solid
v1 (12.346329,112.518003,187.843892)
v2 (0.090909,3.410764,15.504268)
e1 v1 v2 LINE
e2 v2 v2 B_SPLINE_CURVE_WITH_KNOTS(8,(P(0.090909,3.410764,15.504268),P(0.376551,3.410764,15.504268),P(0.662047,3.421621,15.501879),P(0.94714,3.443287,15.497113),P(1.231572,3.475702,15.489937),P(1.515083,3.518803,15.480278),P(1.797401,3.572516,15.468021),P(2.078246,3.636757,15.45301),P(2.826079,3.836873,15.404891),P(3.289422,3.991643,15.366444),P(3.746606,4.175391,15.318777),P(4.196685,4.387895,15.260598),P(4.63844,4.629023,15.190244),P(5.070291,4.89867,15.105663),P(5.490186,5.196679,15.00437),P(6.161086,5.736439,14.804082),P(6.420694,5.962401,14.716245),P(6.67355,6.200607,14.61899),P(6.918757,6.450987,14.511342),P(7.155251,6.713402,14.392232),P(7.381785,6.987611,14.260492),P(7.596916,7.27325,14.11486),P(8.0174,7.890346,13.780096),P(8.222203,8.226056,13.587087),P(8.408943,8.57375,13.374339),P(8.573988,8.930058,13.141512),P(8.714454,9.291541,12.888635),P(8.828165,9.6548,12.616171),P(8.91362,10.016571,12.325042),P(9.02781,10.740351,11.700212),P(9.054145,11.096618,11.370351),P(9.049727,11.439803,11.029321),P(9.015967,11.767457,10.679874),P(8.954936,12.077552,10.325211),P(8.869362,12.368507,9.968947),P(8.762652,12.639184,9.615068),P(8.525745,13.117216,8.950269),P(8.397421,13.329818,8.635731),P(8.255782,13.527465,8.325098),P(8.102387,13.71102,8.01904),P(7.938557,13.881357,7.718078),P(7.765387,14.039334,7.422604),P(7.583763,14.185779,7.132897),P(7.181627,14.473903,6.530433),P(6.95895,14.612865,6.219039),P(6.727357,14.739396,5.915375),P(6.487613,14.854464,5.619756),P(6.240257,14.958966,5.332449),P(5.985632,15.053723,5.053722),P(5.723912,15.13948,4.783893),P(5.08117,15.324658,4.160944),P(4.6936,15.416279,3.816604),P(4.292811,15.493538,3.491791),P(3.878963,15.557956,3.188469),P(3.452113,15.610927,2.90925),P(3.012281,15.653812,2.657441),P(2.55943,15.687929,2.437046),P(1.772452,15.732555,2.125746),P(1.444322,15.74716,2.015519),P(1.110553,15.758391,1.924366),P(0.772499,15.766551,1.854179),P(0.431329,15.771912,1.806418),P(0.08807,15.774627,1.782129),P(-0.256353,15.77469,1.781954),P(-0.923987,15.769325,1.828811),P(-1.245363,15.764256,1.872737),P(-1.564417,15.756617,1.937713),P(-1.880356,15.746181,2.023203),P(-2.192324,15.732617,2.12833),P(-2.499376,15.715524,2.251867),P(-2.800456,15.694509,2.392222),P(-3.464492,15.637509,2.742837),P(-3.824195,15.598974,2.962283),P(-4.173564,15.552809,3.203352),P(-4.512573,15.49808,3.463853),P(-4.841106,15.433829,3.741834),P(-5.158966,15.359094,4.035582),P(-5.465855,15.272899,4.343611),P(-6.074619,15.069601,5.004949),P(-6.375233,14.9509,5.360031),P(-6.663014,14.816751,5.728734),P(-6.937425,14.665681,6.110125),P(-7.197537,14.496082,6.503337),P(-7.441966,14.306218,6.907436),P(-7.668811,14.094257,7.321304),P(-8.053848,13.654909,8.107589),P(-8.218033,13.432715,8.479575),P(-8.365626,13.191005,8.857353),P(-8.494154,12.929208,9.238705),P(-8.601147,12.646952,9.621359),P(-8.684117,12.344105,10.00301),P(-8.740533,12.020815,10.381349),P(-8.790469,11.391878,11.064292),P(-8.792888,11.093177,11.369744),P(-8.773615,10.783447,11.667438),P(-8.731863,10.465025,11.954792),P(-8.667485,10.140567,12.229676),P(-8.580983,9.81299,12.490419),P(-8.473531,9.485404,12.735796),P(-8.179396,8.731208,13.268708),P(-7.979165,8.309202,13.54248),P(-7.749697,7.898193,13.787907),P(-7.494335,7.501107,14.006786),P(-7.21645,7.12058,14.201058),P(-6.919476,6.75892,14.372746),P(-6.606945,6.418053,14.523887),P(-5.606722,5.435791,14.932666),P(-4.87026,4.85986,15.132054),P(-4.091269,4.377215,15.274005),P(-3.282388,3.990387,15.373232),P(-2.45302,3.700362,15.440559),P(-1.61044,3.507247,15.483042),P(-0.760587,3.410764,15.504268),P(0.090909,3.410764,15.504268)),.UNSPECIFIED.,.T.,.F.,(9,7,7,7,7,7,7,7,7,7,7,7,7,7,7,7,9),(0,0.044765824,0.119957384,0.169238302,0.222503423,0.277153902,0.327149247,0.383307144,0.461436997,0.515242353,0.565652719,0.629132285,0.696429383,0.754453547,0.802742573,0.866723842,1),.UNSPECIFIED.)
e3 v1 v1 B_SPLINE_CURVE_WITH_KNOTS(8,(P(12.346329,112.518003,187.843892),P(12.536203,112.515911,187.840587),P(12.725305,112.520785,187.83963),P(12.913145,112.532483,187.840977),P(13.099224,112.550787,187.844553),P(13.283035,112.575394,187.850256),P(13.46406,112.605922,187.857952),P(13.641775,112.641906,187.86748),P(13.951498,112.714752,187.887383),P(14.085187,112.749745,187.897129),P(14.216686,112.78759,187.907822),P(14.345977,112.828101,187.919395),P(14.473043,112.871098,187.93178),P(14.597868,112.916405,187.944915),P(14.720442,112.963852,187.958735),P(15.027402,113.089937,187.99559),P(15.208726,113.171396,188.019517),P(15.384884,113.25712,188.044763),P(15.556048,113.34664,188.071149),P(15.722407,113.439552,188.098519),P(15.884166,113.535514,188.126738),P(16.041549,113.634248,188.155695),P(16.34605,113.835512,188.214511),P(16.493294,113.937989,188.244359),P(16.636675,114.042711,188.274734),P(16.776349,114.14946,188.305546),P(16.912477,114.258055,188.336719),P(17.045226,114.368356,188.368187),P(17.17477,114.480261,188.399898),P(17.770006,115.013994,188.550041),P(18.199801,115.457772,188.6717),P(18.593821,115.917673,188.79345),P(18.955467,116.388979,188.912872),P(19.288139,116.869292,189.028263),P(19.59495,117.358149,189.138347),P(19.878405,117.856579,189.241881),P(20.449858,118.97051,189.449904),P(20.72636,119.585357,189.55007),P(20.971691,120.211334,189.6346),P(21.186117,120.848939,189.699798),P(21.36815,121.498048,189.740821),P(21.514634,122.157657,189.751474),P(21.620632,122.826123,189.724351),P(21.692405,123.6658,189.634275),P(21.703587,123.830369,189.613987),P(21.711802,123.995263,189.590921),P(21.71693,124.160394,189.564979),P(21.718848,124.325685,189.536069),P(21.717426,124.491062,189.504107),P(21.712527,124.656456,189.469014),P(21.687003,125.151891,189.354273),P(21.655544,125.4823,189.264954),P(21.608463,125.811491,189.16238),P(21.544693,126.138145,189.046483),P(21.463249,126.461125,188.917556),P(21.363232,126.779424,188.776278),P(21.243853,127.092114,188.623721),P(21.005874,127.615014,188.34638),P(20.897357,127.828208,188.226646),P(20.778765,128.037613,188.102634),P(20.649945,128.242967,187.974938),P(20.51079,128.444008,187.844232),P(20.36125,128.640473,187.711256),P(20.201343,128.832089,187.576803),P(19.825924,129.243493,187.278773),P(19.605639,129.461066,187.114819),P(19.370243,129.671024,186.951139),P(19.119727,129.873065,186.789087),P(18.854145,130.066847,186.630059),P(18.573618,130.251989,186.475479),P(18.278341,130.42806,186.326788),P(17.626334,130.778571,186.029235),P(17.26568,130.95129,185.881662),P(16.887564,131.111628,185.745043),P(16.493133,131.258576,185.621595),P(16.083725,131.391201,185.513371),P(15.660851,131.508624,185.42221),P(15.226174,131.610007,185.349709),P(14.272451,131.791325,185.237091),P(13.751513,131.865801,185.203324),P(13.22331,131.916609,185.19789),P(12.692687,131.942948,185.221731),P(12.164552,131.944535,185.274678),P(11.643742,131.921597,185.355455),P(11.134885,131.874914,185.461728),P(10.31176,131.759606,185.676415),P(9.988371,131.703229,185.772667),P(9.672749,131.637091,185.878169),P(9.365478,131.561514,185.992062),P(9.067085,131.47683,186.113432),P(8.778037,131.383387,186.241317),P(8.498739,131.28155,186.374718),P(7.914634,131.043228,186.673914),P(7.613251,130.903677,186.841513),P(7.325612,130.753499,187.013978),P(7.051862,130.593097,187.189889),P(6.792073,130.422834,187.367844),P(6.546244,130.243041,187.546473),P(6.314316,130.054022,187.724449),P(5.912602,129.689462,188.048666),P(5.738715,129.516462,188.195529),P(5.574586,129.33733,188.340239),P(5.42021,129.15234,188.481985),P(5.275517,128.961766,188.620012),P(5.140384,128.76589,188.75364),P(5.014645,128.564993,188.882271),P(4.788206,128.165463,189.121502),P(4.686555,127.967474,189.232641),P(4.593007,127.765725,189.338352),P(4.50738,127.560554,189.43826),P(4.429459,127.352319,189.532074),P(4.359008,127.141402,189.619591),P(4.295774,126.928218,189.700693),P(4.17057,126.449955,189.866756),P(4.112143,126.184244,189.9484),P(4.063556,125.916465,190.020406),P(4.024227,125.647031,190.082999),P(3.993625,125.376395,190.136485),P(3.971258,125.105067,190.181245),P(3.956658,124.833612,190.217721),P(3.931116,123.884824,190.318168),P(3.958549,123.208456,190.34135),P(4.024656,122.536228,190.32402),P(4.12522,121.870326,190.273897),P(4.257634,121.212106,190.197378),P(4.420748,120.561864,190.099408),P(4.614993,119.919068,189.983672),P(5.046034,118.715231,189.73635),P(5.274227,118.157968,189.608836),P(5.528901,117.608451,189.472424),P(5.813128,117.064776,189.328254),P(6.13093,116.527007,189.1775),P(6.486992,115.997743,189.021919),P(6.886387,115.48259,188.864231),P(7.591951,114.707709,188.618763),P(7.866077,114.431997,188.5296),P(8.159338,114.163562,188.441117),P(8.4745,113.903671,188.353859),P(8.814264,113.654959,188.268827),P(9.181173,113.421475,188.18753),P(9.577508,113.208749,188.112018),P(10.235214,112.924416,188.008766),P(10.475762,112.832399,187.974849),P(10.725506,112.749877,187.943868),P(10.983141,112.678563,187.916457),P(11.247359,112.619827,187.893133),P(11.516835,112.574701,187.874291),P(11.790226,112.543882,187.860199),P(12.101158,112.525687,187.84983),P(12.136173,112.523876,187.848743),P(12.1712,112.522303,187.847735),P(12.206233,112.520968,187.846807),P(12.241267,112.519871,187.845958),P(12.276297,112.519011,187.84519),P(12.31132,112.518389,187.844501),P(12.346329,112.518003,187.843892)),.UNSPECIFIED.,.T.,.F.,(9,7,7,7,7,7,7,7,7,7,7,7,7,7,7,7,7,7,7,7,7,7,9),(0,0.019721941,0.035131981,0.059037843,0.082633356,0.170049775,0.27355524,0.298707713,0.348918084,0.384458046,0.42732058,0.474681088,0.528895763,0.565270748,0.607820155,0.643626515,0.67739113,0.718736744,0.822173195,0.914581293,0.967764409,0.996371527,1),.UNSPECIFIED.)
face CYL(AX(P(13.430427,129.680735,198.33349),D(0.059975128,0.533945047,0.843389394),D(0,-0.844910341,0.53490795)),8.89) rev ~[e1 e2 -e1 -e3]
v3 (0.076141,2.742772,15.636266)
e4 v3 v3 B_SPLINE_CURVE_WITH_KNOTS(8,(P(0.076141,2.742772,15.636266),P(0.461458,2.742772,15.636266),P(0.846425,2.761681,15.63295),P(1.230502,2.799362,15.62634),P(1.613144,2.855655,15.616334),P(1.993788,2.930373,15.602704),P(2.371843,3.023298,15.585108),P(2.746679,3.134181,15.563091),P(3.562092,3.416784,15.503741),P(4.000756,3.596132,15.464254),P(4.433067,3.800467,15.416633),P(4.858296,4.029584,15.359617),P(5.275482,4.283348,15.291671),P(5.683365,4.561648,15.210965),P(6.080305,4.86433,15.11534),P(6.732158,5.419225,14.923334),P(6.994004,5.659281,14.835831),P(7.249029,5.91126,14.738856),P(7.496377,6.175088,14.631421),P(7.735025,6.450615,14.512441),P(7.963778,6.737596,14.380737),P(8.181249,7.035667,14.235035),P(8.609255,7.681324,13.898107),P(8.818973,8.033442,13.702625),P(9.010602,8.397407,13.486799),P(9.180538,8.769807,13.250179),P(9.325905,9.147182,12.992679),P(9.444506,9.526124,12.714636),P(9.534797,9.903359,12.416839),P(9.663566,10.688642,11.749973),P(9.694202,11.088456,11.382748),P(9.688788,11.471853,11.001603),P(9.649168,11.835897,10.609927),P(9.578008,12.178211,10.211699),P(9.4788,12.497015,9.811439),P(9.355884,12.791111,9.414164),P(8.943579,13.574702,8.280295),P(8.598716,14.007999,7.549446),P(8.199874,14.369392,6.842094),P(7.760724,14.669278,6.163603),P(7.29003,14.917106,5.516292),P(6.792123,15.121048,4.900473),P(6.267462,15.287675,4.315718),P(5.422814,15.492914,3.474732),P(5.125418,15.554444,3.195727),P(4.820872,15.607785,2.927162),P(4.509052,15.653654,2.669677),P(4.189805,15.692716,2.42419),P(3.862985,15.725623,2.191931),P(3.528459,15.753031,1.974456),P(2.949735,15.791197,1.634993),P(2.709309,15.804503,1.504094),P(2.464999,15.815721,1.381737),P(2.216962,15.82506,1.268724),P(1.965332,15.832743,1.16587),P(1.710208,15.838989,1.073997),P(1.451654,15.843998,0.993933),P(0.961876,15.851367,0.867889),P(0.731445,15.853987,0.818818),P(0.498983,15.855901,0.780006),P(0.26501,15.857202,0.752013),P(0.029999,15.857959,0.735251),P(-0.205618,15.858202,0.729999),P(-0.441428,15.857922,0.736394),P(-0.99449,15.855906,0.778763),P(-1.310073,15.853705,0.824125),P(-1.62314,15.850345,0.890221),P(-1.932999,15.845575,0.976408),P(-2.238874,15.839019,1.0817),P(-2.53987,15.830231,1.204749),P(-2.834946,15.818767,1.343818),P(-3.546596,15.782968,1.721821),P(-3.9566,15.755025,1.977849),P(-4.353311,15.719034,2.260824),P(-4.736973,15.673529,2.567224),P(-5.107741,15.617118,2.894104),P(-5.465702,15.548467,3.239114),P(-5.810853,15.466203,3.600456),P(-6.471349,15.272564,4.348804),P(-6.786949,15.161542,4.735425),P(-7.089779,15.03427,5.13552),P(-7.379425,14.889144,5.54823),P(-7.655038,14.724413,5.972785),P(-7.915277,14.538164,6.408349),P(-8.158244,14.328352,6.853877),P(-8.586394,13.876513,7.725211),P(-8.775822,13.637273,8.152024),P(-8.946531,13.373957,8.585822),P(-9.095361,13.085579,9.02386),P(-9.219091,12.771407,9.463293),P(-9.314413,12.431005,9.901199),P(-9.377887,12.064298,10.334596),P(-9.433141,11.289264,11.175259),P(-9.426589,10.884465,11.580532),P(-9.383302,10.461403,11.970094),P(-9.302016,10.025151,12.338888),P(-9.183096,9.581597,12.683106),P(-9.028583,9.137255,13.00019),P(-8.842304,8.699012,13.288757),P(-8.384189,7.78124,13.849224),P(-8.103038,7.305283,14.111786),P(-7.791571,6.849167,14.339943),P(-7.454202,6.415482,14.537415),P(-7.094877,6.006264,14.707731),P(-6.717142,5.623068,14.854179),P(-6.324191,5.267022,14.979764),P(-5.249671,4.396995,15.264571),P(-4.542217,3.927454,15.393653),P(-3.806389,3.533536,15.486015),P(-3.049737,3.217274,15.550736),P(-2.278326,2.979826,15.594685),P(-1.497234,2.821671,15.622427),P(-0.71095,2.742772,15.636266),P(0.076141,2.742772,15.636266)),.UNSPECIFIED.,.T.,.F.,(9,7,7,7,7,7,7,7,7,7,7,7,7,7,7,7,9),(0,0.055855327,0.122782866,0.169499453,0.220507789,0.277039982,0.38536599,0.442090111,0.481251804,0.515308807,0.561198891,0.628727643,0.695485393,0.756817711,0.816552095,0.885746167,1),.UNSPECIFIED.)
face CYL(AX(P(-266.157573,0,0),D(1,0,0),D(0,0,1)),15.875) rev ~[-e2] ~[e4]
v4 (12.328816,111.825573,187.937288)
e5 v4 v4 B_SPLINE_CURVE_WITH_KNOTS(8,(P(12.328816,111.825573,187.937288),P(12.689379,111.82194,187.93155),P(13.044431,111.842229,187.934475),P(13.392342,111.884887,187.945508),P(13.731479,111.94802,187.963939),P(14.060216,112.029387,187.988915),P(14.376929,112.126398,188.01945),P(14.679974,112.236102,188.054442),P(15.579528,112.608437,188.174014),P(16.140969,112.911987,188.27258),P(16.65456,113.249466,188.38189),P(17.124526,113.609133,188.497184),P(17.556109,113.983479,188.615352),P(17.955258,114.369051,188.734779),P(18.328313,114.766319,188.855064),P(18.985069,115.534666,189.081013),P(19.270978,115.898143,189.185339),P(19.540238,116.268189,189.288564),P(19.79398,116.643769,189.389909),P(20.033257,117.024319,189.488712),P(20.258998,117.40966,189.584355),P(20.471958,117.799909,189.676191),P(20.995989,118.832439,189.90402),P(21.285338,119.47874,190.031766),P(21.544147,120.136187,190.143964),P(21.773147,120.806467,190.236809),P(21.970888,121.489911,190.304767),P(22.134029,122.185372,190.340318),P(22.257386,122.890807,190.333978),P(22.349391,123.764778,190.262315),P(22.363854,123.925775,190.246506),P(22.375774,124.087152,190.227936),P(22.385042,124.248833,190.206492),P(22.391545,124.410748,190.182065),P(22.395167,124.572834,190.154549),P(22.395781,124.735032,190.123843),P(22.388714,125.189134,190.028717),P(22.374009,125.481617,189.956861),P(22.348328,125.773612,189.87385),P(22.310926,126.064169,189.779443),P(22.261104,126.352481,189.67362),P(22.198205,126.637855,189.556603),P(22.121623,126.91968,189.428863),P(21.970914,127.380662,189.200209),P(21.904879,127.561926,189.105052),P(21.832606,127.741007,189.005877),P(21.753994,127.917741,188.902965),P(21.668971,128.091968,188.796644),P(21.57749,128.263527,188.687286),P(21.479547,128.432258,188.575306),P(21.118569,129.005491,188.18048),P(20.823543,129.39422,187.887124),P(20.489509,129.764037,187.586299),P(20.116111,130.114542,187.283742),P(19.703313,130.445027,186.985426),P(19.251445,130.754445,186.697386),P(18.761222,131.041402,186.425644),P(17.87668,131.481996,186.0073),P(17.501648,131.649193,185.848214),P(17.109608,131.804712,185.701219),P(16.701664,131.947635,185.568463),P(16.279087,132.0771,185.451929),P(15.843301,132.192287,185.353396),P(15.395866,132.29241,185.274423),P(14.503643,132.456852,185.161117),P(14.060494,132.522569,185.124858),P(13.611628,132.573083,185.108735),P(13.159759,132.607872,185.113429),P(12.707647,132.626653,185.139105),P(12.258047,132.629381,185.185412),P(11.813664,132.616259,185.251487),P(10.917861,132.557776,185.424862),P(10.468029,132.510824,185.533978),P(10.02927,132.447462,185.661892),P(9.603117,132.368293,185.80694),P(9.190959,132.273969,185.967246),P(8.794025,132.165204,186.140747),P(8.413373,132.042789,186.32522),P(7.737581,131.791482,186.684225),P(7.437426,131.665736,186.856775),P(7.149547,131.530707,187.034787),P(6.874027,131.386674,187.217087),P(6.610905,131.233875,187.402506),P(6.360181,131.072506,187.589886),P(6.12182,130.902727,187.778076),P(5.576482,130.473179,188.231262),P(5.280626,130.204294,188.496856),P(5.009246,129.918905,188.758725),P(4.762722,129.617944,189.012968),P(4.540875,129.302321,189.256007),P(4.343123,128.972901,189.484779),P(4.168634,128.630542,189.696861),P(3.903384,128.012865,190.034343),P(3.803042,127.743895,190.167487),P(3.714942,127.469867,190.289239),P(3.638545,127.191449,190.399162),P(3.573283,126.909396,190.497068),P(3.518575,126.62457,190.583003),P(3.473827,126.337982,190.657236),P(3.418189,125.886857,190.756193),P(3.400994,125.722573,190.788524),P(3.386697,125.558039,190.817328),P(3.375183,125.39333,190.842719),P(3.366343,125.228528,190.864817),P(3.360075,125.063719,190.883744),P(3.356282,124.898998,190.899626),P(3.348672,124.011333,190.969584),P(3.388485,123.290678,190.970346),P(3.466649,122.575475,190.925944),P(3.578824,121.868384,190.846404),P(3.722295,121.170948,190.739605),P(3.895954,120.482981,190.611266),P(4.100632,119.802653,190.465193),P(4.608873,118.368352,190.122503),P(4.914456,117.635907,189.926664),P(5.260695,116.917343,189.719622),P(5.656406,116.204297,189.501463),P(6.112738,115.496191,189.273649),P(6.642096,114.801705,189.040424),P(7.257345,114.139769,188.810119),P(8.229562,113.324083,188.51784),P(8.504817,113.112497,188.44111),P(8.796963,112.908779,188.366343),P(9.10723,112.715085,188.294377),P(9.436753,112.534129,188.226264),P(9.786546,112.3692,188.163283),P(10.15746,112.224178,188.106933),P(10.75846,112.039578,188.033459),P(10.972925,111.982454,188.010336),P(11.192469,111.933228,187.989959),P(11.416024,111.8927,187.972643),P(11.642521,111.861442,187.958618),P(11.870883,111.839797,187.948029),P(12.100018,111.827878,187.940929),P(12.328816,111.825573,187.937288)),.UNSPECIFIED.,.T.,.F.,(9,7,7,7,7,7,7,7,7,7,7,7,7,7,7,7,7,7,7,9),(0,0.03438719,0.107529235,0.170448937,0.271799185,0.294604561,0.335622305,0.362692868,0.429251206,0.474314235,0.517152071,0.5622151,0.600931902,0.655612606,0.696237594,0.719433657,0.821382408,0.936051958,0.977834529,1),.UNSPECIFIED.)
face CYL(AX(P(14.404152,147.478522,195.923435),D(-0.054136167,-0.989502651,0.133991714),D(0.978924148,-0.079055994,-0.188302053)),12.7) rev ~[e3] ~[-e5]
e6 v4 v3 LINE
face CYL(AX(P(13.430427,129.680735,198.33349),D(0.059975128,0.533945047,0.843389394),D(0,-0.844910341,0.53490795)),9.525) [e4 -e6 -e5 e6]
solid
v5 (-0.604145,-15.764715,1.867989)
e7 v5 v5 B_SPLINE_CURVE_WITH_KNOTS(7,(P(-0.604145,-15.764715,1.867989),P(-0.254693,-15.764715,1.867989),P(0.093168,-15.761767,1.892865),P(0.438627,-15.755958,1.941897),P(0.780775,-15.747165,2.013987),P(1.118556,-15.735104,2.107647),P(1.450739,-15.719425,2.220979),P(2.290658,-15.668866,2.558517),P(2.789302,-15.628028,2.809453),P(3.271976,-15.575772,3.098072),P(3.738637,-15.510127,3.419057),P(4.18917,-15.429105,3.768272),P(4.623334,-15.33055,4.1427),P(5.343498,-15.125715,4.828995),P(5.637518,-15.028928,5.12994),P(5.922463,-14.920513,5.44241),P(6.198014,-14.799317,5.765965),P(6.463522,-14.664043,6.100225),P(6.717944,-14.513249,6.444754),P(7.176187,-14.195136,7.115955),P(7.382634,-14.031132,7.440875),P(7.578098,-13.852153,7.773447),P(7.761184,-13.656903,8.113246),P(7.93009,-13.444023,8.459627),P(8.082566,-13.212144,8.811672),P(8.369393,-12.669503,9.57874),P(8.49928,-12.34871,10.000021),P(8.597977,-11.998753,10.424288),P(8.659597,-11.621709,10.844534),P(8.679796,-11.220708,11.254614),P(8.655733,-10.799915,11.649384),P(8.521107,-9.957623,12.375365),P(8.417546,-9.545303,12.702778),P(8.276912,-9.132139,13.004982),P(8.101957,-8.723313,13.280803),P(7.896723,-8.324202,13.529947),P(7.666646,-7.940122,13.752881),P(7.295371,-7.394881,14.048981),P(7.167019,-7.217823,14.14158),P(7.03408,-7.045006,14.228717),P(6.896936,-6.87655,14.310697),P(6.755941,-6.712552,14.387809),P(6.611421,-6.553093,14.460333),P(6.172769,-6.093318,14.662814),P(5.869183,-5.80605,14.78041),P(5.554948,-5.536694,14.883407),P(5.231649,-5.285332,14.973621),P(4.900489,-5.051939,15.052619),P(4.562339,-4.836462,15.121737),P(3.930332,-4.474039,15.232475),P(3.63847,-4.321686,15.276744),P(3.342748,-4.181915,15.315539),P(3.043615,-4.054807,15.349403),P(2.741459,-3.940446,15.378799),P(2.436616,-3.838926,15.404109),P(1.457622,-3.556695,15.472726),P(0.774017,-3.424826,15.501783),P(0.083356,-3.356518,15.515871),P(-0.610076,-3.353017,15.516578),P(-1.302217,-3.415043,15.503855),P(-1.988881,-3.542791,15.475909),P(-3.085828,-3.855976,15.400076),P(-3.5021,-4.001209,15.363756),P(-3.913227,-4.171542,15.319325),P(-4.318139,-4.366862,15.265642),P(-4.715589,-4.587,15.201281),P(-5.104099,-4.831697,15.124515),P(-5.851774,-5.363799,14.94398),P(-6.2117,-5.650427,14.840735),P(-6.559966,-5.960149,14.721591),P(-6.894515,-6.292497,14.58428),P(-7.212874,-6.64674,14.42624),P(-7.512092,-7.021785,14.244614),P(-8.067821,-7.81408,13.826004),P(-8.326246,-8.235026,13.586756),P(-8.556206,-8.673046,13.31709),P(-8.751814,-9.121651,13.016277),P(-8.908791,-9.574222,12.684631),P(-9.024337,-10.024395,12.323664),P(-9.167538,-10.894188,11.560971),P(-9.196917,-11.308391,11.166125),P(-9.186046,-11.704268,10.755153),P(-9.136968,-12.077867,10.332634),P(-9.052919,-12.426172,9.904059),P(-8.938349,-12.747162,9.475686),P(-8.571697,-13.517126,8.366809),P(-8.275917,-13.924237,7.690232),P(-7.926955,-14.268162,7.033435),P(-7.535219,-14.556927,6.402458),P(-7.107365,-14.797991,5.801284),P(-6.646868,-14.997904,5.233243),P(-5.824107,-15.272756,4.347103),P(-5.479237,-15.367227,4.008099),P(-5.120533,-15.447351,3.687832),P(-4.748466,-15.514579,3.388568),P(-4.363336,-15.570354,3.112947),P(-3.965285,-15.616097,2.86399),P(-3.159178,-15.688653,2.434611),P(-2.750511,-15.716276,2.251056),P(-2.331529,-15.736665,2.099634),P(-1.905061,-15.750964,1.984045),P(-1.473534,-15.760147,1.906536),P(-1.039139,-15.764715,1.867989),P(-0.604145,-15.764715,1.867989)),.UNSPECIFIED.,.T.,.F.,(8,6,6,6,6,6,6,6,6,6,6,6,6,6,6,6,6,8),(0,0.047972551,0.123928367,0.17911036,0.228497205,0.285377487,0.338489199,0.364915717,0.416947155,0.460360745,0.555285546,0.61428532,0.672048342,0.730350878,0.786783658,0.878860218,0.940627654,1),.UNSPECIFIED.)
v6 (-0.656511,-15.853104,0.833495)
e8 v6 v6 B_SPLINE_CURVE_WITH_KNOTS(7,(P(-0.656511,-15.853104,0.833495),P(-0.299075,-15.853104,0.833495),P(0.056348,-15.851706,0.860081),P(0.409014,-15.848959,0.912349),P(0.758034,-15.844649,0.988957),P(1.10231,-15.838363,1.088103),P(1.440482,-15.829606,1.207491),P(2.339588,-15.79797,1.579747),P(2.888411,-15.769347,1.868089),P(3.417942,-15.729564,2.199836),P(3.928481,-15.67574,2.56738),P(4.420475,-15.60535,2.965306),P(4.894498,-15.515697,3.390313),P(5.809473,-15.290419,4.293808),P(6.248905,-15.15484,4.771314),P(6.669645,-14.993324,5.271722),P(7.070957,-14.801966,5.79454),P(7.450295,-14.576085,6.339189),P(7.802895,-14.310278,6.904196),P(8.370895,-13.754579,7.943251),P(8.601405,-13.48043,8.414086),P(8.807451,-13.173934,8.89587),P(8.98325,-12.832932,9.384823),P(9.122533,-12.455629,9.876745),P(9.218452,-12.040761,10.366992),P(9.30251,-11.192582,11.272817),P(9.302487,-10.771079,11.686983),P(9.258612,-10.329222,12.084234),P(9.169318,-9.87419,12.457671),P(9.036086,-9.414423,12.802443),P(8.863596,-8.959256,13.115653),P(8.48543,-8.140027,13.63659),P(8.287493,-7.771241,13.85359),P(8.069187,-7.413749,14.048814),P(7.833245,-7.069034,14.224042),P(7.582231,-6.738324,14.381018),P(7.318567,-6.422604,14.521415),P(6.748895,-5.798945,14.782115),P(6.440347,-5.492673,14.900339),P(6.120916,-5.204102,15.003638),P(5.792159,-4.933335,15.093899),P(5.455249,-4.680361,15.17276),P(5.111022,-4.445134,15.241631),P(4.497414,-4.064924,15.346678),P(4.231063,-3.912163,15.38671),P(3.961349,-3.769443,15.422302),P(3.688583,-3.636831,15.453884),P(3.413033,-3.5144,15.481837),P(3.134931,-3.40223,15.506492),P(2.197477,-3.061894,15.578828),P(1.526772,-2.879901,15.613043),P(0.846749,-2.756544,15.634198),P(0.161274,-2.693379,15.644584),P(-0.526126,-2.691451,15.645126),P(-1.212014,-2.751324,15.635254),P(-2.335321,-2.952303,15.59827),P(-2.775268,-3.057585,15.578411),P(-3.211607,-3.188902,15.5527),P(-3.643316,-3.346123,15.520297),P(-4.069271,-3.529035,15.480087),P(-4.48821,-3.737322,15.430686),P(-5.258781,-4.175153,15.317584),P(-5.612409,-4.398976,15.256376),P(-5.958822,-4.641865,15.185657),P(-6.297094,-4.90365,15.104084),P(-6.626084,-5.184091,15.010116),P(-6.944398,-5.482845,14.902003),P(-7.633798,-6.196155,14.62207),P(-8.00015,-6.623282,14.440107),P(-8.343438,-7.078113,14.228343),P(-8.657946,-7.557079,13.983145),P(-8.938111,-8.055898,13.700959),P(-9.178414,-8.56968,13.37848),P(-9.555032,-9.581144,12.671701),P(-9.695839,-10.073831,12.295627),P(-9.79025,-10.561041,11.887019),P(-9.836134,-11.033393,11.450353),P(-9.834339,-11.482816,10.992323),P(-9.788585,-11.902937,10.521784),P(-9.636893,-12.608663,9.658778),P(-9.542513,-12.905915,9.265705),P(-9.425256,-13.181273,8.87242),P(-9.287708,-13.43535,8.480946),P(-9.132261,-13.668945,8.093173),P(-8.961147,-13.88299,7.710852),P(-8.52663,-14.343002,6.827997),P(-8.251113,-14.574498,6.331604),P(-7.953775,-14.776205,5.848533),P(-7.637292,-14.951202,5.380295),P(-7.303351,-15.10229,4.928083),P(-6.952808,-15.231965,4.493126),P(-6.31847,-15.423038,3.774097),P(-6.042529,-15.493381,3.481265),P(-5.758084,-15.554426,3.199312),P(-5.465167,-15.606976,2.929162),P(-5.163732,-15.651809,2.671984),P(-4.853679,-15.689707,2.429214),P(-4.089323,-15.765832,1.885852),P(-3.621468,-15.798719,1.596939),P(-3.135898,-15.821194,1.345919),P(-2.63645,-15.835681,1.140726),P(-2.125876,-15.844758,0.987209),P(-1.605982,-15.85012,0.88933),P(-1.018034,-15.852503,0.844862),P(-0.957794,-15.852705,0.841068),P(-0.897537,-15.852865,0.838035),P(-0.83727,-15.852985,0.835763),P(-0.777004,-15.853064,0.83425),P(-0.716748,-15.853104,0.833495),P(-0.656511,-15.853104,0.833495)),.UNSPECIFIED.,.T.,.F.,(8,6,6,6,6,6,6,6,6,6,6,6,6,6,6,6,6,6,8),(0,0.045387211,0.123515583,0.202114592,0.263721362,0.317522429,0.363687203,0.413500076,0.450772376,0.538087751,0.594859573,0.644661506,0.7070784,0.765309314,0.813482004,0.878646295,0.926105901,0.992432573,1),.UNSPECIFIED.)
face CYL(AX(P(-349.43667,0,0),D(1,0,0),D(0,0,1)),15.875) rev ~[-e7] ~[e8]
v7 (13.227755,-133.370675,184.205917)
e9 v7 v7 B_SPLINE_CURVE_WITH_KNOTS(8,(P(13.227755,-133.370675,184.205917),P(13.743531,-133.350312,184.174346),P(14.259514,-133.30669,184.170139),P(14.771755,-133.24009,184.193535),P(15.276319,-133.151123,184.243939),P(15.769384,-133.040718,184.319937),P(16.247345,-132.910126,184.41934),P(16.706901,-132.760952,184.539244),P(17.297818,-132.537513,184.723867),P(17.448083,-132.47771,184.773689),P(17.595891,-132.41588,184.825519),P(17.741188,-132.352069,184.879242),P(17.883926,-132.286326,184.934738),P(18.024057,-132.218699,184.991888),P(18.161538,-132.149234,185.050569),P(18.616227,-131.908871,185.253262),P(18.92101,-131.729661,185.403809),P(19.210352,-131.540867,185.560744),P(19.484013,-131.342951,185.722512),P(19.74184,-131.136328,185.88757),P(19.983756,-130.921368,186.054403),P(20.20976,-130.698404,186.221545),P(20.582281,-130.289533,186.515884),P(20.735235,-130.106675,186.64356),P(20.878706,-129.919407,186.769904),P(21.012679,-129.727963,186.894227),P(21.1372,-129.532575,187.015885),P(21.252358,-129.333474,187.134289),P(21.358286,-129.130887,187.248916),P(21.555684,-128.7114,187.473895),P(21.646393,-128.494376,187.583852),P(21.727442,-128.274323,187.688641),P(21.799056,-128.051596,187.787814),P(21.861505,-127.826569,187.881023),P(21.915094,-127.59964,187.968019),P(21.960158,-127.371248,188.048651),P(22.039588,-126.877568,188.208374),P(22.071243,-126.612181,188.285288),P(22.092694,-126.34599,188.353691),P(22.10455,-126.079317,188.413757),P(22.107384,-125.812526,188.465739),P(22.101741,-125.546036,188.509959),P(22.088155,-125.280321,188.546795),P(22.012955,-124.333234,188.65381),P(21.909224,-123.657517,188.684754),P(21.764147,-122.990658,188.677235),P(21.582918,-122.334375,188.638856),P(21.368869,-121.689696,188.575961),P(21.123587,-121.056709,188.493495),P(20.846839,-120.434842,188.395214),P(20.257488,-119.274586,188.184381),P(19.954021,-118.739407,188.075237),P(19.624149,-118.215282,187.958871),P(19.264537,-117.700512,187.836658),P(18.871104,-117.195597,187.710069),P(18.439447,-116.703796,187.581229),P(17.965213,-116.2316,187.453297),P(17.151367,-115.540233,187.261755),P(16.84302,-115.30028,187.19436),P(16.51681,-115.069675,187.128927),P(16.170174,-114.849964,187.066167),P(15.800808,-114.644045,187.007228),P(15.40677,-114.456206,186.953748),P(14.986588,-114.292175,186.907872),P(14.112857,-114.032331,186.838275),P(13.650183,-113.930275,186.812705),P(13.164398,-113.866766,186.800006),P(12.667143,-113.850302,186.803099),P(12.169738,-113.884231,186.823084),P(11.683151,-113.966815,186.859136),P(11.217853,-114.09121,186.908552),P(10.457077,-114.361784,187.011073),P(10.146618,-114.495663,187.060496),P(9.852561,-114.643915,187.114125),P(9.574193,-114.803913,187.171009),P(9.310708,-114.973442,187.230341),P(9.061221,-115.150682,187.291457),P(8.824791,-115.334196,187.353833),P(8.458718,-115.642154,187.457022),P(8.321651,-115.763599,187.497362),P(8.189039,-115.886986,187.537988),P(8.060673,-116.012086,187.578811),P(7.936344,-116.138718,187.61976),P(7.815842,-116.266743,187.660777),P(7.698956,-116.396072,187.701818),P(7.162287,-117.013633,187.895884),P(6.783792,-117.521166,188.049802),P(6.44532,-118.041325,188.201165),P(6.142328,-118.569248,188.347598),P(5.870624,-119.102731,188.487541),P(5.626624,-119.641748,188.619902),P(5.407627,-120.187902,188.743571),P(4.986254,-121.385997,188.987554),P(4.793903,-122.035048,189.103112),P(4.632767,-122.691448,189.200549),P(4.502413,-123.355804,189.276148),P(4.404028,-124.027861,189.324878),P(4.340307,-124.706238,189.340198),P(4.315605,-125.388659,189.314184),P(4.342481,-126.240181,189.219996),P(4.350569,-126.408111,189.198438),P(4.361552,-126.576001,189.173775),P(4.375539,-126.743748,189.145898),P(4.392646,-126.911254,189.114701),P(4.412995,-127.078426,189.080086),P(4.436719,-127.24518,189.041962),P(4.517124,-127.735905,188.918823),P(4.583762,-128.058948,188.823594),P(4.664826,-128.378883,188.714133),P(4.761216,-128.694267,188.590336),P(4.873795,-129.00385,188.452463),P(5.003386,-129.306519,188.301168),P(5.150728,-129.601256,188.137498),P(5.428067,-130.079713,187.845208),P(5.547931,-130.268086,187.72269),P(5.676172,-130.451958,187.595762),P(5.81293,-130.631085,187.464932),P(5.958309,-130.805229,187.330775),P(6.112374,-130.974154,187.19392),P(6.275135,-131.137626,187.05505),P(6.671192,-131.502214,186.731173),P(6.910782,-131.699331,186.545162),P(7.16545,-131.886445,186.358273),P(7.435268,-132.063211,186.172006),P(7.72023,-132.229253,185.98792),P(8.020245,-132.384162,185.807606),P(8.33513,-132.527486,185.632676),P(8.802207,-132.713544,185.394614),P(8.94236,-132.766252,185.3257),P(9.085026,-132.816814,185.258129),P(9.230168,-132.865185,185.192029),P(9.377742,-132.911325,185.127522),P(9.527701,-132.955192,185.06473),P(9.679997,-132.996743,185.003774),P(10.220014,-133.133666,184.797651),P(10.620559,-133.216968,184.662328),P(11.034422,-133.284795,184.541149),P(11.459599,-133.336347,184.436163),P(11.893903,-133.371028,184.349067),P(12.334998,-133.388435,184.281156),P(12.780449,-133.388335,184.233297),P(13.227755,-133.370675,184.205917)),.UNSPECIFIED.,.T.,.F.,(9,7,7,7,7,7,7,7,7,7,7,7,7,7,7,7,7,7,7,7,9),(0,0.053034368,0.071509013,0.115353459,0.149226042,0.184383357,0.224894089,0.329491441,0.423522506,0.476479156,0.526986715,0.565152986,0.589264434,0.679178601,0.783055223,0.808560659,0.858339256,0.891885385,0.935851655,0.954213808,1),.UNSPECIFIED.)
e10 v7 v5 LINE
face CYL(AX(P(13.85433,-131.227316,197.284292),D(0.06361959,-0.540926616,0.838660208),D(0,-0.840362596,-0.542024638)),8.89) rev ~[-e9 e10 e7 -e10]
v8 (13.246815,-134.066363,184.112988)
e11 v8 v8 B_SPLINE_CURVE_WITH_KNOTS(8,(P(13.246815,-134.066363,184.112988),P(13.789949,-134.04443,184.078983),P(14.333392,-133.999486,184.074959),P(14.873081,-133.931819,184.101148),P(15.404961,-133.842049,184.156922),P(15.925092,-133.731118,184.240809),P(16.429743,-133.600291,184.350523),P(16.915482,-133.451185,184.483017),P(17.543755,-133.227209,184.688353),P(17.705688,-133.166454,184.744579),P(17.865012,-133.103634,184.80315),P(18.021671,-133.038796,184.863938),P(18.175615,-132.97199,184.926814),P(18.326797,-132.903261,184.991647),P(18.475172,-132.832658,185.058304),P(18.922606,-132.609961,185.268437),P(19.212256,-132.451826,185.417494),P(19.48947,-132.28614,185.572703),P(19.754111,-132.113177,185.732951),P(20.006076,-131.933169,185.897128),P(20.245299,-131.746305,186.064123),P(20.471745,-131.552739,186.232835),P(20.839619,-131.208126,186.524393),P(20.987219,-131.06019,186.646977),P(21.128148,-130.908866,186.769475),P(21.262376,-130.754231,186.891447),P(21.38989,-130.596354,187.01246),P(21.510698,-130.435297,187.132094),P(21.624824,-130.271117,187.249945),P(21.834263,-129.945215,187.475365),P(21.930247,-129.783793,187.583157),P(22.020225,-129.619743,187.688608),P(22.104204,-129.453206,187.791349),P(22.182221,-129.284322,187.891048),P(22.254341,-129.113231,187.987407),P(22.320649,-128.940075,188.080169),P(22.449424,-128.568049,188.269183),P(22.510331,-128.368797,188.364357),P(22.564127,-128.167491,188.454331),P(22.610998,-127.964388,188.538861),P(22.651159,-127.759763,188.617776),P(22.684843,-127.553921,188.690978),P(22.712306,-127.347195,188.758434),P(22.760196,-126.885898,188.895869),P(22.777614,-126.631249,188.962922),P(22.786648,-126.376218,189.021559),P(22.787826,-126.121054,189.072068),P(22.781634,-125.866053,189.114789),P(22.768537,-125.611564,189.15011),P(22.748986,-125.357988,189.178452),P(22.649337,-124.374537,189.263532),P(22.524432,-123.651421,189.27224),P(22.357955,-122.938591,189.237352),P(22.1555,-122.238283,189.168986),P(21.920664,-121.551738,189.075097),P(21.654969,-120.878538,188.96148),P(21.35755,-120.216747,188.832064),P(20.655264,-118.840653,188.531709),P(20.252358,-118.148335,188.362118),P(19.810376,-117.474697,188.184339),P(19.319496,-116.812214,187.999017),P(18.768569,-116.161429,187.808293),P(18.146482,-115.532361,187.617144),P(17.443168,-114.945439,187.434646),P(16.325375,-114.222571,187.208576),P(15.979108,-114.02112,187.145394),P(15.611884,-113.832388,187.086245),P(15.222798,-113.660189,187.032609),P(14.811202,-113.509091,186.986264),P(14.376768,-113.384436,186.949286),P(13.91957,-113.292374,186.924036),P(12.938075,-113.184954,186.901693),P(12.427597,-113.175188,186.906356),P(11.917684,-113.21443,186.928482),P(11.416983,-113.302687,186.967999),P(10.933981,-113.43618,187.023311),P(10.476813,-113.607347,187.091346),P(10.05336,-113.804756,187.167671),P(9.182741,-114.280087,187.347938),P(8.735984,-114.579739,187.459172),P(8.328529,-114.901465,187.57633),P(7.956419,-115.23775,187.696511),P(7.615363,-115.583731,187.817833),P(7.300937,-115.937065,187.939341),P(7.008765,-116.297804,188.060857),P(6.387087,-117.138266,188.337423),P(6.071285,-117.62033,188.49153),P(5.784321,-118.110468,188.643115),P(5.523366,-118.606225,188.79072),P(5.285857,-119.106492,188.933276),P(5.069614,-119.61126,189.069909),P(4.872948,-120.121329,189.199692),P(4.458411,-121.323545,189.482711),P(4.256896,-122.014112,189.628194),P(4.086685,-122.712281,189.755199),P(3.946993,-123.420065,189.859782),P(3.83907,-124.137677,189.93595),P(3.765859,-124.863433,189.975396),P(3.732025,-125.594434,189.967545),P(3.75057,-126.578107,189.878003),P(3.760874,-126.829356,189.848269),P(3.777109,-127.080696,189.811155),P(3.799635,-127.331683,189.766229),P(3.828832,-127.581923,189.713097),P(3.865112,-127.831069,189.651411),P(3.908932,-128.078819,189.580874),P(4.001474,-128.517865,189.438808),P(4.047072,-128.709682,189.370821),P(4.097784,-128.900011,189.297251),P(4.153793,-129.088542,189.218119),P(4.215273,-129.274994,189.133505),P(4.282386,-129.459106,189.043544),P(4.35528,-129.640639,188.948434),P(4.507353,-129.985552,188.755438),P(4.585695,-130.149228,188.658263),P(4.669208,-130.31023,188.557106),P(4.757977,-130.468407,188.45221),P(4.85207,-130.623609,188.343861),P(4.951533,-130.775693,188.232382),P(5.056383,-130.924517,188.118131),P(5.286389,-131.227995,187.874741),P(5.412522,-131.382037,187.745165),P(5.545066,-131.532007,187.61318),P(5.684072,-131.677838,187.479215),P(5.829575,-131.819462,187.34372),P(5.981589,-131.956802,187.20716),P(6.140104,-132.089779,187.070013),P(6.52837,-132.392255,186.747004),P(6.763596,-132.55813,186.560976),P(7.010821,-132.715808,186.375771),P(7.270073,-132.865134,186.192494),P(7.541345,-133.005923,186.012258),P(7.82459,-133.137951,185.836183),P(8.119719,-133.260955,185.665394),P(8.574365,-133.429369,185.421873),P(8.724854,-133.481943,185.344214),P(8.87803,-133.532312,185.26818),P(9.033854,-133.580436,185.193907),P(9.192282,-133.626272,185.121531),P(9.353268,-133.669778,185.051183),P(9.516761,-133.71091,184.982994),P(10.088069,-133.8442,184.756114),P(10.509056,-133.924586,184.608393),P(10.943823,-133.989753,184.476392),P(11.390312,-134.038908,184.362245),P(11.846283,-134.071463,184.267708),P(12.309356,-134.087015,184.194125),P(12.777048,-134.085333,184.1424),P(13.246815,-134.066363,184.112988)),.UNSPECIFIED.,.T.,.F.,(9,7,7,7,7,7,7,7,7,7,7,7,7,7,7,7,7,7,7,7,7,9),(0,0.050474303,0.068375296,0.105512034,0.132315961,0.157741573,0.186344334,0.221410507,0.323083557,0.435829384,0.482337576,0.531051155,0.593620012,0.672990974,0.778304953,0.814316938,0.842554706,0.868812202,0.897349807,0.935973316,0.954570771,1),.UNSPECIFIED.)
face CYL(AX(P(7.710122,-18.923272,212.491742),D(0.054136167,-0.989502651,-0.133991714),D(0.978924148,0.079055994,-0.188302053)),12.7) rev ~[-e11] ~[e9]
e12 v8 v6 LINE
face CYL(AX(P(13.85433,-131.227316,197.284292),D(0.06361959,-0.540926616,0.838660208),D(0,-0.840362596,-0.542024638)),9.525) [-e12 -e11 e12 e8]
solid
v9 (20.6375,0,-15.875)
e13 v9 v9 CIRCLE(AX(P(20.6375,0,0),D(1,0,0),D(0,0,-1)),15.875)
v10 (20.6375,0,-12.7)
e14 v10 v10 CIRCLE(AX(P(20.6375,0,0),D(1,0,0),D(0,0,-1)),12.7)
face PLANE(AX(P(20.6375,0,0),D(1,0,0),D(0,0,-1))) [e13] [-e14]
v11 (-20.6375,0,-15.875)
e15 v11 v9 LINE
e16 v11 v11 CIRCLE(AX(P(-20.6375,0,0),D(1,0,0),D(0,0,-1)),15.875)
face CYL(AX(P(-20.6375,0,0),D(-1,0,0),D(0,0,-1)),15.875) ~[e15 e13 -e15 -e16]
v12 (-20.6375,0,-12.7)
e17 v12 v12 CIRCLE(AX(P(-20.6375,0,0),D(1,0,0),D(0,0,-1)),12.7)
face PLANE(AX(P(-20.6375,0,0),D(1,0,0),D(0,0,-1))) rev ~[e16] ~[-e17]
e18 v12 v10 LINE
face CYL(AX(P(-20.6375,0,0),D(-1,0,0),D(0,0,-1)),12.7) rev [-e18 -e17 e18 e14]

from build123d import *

# Parameters (mm, degrees)
BOSS_EXTRUDE1_DEPTH      = 20.6375
BOSS_EXTRUDE1_DEPTH_BACK = 20.6375
SKETCH1_R                = 15.875
SKETCH1_R_2              = 12.7
BOSS_EXTRUDE3_REACH      = 263.213
BOSS_EXTRUDE3_END_RADIUS = 15.875
SKETCH5_R                = 9.525
SKETCH5_R_2              = 8.89
BOSS_EXTRUDE2_REACH      = 346.916
BOSS_EXTRUDE2_END_RADIUS = 15.875
SKETCH4_R                = 9.525
SKETCH4_R_2              = 8.89
SKETCH13_R               = 12.7


with BuildPart() as part:
    # Sketch1 → Boss-Extrude1 (new, two sides: drawn at the far end of the back side and taken through both)
    with BuildSketch(Plane(origin=(0, 0, 0), x_dir=(0, 0, -1), z_dir=(1, 0, 0)).offset(-BOSS_EXTRUDE1_DEPTH_BACK)):
        Circle(SKETCH1_R)
        Circle(SKETCH1_R_2, mode=Mode.SUBTRACT)
    extrude(amount=BOSS_EXTRUDE1_DEPTH + BOSS_EXTRUDE1_DEPTH_BACK)


with BuildPart() as body_2:
    # Boss-Extrude3: up to this cylinder (the profile starts outside it)
    boss_extrude3_end = Plane(origin=(4.191496, 0, 0), z_dir=(1, 0, 0)) * Cylinder(BOSS_EXTRUDE3_END_RADIUS, 559.176, mode=Mode.PRIVATE)
    # Sketch5 → Boss-Extrude3 (new, up to the surface)
    with BuildSketch(Plane(origin=(13.430426637, 129.680735262, 198.333490367), x_dir=(0.9981998705093698, -0.0321242199519742, -0.05064635236179303), z_dir=(0.059975127583038426, 0.5339450472183996, 0.8433893944213071)), mode=Mode.PRIVATE) as boss_extrude3_sk1:
        Circle(SKETCH5_R)
        Circle(SKETCH5_R_2, mode=Mode.SUBTRACT)
    boss_extrude3_tool1 = extrude(boss_extrude3_sk1.sketch, amount=-BOSS_EXTRUDE3_REACH, mode=Mode.PRIVATE) - boss_extrude3_end
    add(boss_extrude3_tool1.solids().sort_by_distance((4.191496, 129.978064, 198.802252))[0])


with BuildPart() as body_3:
    # Boss-Extrude2: up to this cylinder (the profile starts outside it)
    boss_extrude2_end = Plane(origin=(4.617488, 0, 0), z_dir=(1, 0, 0)) * Cylinder(BOSS_EXTRUDE2_END_RADIUS, 726.582, mode=Mode.PRIVATE)
    # Sketch4 → Boss-Extrude2 (new, up to the surface)
    with BuildSketch(Plane(origin=(13.854330205, -131.227315899, 197.284292217), x_dir=(0.9979742198540056, 0.03453869256304647, -0.05342785062890198), z_dir=(0.06361958969409028, -0.5409266161491856, 0.8386602075623639)), mode=Mode.PRIVATE) as boss_extrude2_sk1:
        Circle(SKETCH4_R)
        Circle(SKETCH4_R_2, mode=Mode.SUBTRACT)
    boss_extrude2_tool1 = extrude(boss_extrude2_sk1.sketch, amount=-BOSS_EXTRUDE2_REACH, mode=Mode.PRIVATE) - boss_extrude2_end
    add(boss_extrude2_tool1.solids().sort_by_distance((4.617488, -131.546992, 197.778799))[0])


with BuildPart() as cut_sweep4_tool:
    # Cut-Sweep4: sweep along a path in FRH
    with BuildLine(Plane(origin=(-218.965343182, 0, 773.533205035), x_dir=(-0.3746065934159059, 0, 0.92718385456679), z_dir=(-0.92718385456679, 0, -0.3746065934159059))) as cut_sweep4_path:
        ThreePointArc((-696.824125417, 212.650771438), (-647.952914491, 193.600771438), (-622.972204466, 147.478522099))
        Line((-622.972204466, 147.478522099), (-605.102710502, 25.124814599))
        ThreePointArc((-605.102710502, 25.124814599), (-603.502914491, 3.100771438), (-605.102710502, -18.923271722))
        Line((-605.102710502, -18.923271722), (-622.972204466, -141.276979223))
        ThreePointArc((-622.972204466, -141.276979223), (-647.952914491, -187.399228562), (-696.824125417, -206.449228562))
    # Sketch13 → Cut-Sweep4 (sweep)
    with BuildSketch(Plane(origin=(42.06956865, 212.650771438, 127.449126476), x_dir=(0.7803123863430683, -0.5469316613994696, 0.3032793060503835), z_dir=(-0.37452926772752637, -0.020317336522068737, 0.926992466772051))):
        Circle(SKETCH13_R)
    sweep(path=cut_sweep4_path.line)


with BuildPart() as body_2_1:
    add(body_2.part)

    # Cut-Sweep4: cut by cut_sweep4_tool
    add(cut_sweep4_tool.part, mode=Mode.SUBTRACT)


with BuildPart() as body_3_1:
    add(body_3.part)

    # Cut-Sweep4: cut by cut_sweep4_tool
    add(cut_sweep4_tool.part, mode=Mode.SUBTRACT)


solid = Compound([part.part, body_2_1.part, body_3_1.part])
